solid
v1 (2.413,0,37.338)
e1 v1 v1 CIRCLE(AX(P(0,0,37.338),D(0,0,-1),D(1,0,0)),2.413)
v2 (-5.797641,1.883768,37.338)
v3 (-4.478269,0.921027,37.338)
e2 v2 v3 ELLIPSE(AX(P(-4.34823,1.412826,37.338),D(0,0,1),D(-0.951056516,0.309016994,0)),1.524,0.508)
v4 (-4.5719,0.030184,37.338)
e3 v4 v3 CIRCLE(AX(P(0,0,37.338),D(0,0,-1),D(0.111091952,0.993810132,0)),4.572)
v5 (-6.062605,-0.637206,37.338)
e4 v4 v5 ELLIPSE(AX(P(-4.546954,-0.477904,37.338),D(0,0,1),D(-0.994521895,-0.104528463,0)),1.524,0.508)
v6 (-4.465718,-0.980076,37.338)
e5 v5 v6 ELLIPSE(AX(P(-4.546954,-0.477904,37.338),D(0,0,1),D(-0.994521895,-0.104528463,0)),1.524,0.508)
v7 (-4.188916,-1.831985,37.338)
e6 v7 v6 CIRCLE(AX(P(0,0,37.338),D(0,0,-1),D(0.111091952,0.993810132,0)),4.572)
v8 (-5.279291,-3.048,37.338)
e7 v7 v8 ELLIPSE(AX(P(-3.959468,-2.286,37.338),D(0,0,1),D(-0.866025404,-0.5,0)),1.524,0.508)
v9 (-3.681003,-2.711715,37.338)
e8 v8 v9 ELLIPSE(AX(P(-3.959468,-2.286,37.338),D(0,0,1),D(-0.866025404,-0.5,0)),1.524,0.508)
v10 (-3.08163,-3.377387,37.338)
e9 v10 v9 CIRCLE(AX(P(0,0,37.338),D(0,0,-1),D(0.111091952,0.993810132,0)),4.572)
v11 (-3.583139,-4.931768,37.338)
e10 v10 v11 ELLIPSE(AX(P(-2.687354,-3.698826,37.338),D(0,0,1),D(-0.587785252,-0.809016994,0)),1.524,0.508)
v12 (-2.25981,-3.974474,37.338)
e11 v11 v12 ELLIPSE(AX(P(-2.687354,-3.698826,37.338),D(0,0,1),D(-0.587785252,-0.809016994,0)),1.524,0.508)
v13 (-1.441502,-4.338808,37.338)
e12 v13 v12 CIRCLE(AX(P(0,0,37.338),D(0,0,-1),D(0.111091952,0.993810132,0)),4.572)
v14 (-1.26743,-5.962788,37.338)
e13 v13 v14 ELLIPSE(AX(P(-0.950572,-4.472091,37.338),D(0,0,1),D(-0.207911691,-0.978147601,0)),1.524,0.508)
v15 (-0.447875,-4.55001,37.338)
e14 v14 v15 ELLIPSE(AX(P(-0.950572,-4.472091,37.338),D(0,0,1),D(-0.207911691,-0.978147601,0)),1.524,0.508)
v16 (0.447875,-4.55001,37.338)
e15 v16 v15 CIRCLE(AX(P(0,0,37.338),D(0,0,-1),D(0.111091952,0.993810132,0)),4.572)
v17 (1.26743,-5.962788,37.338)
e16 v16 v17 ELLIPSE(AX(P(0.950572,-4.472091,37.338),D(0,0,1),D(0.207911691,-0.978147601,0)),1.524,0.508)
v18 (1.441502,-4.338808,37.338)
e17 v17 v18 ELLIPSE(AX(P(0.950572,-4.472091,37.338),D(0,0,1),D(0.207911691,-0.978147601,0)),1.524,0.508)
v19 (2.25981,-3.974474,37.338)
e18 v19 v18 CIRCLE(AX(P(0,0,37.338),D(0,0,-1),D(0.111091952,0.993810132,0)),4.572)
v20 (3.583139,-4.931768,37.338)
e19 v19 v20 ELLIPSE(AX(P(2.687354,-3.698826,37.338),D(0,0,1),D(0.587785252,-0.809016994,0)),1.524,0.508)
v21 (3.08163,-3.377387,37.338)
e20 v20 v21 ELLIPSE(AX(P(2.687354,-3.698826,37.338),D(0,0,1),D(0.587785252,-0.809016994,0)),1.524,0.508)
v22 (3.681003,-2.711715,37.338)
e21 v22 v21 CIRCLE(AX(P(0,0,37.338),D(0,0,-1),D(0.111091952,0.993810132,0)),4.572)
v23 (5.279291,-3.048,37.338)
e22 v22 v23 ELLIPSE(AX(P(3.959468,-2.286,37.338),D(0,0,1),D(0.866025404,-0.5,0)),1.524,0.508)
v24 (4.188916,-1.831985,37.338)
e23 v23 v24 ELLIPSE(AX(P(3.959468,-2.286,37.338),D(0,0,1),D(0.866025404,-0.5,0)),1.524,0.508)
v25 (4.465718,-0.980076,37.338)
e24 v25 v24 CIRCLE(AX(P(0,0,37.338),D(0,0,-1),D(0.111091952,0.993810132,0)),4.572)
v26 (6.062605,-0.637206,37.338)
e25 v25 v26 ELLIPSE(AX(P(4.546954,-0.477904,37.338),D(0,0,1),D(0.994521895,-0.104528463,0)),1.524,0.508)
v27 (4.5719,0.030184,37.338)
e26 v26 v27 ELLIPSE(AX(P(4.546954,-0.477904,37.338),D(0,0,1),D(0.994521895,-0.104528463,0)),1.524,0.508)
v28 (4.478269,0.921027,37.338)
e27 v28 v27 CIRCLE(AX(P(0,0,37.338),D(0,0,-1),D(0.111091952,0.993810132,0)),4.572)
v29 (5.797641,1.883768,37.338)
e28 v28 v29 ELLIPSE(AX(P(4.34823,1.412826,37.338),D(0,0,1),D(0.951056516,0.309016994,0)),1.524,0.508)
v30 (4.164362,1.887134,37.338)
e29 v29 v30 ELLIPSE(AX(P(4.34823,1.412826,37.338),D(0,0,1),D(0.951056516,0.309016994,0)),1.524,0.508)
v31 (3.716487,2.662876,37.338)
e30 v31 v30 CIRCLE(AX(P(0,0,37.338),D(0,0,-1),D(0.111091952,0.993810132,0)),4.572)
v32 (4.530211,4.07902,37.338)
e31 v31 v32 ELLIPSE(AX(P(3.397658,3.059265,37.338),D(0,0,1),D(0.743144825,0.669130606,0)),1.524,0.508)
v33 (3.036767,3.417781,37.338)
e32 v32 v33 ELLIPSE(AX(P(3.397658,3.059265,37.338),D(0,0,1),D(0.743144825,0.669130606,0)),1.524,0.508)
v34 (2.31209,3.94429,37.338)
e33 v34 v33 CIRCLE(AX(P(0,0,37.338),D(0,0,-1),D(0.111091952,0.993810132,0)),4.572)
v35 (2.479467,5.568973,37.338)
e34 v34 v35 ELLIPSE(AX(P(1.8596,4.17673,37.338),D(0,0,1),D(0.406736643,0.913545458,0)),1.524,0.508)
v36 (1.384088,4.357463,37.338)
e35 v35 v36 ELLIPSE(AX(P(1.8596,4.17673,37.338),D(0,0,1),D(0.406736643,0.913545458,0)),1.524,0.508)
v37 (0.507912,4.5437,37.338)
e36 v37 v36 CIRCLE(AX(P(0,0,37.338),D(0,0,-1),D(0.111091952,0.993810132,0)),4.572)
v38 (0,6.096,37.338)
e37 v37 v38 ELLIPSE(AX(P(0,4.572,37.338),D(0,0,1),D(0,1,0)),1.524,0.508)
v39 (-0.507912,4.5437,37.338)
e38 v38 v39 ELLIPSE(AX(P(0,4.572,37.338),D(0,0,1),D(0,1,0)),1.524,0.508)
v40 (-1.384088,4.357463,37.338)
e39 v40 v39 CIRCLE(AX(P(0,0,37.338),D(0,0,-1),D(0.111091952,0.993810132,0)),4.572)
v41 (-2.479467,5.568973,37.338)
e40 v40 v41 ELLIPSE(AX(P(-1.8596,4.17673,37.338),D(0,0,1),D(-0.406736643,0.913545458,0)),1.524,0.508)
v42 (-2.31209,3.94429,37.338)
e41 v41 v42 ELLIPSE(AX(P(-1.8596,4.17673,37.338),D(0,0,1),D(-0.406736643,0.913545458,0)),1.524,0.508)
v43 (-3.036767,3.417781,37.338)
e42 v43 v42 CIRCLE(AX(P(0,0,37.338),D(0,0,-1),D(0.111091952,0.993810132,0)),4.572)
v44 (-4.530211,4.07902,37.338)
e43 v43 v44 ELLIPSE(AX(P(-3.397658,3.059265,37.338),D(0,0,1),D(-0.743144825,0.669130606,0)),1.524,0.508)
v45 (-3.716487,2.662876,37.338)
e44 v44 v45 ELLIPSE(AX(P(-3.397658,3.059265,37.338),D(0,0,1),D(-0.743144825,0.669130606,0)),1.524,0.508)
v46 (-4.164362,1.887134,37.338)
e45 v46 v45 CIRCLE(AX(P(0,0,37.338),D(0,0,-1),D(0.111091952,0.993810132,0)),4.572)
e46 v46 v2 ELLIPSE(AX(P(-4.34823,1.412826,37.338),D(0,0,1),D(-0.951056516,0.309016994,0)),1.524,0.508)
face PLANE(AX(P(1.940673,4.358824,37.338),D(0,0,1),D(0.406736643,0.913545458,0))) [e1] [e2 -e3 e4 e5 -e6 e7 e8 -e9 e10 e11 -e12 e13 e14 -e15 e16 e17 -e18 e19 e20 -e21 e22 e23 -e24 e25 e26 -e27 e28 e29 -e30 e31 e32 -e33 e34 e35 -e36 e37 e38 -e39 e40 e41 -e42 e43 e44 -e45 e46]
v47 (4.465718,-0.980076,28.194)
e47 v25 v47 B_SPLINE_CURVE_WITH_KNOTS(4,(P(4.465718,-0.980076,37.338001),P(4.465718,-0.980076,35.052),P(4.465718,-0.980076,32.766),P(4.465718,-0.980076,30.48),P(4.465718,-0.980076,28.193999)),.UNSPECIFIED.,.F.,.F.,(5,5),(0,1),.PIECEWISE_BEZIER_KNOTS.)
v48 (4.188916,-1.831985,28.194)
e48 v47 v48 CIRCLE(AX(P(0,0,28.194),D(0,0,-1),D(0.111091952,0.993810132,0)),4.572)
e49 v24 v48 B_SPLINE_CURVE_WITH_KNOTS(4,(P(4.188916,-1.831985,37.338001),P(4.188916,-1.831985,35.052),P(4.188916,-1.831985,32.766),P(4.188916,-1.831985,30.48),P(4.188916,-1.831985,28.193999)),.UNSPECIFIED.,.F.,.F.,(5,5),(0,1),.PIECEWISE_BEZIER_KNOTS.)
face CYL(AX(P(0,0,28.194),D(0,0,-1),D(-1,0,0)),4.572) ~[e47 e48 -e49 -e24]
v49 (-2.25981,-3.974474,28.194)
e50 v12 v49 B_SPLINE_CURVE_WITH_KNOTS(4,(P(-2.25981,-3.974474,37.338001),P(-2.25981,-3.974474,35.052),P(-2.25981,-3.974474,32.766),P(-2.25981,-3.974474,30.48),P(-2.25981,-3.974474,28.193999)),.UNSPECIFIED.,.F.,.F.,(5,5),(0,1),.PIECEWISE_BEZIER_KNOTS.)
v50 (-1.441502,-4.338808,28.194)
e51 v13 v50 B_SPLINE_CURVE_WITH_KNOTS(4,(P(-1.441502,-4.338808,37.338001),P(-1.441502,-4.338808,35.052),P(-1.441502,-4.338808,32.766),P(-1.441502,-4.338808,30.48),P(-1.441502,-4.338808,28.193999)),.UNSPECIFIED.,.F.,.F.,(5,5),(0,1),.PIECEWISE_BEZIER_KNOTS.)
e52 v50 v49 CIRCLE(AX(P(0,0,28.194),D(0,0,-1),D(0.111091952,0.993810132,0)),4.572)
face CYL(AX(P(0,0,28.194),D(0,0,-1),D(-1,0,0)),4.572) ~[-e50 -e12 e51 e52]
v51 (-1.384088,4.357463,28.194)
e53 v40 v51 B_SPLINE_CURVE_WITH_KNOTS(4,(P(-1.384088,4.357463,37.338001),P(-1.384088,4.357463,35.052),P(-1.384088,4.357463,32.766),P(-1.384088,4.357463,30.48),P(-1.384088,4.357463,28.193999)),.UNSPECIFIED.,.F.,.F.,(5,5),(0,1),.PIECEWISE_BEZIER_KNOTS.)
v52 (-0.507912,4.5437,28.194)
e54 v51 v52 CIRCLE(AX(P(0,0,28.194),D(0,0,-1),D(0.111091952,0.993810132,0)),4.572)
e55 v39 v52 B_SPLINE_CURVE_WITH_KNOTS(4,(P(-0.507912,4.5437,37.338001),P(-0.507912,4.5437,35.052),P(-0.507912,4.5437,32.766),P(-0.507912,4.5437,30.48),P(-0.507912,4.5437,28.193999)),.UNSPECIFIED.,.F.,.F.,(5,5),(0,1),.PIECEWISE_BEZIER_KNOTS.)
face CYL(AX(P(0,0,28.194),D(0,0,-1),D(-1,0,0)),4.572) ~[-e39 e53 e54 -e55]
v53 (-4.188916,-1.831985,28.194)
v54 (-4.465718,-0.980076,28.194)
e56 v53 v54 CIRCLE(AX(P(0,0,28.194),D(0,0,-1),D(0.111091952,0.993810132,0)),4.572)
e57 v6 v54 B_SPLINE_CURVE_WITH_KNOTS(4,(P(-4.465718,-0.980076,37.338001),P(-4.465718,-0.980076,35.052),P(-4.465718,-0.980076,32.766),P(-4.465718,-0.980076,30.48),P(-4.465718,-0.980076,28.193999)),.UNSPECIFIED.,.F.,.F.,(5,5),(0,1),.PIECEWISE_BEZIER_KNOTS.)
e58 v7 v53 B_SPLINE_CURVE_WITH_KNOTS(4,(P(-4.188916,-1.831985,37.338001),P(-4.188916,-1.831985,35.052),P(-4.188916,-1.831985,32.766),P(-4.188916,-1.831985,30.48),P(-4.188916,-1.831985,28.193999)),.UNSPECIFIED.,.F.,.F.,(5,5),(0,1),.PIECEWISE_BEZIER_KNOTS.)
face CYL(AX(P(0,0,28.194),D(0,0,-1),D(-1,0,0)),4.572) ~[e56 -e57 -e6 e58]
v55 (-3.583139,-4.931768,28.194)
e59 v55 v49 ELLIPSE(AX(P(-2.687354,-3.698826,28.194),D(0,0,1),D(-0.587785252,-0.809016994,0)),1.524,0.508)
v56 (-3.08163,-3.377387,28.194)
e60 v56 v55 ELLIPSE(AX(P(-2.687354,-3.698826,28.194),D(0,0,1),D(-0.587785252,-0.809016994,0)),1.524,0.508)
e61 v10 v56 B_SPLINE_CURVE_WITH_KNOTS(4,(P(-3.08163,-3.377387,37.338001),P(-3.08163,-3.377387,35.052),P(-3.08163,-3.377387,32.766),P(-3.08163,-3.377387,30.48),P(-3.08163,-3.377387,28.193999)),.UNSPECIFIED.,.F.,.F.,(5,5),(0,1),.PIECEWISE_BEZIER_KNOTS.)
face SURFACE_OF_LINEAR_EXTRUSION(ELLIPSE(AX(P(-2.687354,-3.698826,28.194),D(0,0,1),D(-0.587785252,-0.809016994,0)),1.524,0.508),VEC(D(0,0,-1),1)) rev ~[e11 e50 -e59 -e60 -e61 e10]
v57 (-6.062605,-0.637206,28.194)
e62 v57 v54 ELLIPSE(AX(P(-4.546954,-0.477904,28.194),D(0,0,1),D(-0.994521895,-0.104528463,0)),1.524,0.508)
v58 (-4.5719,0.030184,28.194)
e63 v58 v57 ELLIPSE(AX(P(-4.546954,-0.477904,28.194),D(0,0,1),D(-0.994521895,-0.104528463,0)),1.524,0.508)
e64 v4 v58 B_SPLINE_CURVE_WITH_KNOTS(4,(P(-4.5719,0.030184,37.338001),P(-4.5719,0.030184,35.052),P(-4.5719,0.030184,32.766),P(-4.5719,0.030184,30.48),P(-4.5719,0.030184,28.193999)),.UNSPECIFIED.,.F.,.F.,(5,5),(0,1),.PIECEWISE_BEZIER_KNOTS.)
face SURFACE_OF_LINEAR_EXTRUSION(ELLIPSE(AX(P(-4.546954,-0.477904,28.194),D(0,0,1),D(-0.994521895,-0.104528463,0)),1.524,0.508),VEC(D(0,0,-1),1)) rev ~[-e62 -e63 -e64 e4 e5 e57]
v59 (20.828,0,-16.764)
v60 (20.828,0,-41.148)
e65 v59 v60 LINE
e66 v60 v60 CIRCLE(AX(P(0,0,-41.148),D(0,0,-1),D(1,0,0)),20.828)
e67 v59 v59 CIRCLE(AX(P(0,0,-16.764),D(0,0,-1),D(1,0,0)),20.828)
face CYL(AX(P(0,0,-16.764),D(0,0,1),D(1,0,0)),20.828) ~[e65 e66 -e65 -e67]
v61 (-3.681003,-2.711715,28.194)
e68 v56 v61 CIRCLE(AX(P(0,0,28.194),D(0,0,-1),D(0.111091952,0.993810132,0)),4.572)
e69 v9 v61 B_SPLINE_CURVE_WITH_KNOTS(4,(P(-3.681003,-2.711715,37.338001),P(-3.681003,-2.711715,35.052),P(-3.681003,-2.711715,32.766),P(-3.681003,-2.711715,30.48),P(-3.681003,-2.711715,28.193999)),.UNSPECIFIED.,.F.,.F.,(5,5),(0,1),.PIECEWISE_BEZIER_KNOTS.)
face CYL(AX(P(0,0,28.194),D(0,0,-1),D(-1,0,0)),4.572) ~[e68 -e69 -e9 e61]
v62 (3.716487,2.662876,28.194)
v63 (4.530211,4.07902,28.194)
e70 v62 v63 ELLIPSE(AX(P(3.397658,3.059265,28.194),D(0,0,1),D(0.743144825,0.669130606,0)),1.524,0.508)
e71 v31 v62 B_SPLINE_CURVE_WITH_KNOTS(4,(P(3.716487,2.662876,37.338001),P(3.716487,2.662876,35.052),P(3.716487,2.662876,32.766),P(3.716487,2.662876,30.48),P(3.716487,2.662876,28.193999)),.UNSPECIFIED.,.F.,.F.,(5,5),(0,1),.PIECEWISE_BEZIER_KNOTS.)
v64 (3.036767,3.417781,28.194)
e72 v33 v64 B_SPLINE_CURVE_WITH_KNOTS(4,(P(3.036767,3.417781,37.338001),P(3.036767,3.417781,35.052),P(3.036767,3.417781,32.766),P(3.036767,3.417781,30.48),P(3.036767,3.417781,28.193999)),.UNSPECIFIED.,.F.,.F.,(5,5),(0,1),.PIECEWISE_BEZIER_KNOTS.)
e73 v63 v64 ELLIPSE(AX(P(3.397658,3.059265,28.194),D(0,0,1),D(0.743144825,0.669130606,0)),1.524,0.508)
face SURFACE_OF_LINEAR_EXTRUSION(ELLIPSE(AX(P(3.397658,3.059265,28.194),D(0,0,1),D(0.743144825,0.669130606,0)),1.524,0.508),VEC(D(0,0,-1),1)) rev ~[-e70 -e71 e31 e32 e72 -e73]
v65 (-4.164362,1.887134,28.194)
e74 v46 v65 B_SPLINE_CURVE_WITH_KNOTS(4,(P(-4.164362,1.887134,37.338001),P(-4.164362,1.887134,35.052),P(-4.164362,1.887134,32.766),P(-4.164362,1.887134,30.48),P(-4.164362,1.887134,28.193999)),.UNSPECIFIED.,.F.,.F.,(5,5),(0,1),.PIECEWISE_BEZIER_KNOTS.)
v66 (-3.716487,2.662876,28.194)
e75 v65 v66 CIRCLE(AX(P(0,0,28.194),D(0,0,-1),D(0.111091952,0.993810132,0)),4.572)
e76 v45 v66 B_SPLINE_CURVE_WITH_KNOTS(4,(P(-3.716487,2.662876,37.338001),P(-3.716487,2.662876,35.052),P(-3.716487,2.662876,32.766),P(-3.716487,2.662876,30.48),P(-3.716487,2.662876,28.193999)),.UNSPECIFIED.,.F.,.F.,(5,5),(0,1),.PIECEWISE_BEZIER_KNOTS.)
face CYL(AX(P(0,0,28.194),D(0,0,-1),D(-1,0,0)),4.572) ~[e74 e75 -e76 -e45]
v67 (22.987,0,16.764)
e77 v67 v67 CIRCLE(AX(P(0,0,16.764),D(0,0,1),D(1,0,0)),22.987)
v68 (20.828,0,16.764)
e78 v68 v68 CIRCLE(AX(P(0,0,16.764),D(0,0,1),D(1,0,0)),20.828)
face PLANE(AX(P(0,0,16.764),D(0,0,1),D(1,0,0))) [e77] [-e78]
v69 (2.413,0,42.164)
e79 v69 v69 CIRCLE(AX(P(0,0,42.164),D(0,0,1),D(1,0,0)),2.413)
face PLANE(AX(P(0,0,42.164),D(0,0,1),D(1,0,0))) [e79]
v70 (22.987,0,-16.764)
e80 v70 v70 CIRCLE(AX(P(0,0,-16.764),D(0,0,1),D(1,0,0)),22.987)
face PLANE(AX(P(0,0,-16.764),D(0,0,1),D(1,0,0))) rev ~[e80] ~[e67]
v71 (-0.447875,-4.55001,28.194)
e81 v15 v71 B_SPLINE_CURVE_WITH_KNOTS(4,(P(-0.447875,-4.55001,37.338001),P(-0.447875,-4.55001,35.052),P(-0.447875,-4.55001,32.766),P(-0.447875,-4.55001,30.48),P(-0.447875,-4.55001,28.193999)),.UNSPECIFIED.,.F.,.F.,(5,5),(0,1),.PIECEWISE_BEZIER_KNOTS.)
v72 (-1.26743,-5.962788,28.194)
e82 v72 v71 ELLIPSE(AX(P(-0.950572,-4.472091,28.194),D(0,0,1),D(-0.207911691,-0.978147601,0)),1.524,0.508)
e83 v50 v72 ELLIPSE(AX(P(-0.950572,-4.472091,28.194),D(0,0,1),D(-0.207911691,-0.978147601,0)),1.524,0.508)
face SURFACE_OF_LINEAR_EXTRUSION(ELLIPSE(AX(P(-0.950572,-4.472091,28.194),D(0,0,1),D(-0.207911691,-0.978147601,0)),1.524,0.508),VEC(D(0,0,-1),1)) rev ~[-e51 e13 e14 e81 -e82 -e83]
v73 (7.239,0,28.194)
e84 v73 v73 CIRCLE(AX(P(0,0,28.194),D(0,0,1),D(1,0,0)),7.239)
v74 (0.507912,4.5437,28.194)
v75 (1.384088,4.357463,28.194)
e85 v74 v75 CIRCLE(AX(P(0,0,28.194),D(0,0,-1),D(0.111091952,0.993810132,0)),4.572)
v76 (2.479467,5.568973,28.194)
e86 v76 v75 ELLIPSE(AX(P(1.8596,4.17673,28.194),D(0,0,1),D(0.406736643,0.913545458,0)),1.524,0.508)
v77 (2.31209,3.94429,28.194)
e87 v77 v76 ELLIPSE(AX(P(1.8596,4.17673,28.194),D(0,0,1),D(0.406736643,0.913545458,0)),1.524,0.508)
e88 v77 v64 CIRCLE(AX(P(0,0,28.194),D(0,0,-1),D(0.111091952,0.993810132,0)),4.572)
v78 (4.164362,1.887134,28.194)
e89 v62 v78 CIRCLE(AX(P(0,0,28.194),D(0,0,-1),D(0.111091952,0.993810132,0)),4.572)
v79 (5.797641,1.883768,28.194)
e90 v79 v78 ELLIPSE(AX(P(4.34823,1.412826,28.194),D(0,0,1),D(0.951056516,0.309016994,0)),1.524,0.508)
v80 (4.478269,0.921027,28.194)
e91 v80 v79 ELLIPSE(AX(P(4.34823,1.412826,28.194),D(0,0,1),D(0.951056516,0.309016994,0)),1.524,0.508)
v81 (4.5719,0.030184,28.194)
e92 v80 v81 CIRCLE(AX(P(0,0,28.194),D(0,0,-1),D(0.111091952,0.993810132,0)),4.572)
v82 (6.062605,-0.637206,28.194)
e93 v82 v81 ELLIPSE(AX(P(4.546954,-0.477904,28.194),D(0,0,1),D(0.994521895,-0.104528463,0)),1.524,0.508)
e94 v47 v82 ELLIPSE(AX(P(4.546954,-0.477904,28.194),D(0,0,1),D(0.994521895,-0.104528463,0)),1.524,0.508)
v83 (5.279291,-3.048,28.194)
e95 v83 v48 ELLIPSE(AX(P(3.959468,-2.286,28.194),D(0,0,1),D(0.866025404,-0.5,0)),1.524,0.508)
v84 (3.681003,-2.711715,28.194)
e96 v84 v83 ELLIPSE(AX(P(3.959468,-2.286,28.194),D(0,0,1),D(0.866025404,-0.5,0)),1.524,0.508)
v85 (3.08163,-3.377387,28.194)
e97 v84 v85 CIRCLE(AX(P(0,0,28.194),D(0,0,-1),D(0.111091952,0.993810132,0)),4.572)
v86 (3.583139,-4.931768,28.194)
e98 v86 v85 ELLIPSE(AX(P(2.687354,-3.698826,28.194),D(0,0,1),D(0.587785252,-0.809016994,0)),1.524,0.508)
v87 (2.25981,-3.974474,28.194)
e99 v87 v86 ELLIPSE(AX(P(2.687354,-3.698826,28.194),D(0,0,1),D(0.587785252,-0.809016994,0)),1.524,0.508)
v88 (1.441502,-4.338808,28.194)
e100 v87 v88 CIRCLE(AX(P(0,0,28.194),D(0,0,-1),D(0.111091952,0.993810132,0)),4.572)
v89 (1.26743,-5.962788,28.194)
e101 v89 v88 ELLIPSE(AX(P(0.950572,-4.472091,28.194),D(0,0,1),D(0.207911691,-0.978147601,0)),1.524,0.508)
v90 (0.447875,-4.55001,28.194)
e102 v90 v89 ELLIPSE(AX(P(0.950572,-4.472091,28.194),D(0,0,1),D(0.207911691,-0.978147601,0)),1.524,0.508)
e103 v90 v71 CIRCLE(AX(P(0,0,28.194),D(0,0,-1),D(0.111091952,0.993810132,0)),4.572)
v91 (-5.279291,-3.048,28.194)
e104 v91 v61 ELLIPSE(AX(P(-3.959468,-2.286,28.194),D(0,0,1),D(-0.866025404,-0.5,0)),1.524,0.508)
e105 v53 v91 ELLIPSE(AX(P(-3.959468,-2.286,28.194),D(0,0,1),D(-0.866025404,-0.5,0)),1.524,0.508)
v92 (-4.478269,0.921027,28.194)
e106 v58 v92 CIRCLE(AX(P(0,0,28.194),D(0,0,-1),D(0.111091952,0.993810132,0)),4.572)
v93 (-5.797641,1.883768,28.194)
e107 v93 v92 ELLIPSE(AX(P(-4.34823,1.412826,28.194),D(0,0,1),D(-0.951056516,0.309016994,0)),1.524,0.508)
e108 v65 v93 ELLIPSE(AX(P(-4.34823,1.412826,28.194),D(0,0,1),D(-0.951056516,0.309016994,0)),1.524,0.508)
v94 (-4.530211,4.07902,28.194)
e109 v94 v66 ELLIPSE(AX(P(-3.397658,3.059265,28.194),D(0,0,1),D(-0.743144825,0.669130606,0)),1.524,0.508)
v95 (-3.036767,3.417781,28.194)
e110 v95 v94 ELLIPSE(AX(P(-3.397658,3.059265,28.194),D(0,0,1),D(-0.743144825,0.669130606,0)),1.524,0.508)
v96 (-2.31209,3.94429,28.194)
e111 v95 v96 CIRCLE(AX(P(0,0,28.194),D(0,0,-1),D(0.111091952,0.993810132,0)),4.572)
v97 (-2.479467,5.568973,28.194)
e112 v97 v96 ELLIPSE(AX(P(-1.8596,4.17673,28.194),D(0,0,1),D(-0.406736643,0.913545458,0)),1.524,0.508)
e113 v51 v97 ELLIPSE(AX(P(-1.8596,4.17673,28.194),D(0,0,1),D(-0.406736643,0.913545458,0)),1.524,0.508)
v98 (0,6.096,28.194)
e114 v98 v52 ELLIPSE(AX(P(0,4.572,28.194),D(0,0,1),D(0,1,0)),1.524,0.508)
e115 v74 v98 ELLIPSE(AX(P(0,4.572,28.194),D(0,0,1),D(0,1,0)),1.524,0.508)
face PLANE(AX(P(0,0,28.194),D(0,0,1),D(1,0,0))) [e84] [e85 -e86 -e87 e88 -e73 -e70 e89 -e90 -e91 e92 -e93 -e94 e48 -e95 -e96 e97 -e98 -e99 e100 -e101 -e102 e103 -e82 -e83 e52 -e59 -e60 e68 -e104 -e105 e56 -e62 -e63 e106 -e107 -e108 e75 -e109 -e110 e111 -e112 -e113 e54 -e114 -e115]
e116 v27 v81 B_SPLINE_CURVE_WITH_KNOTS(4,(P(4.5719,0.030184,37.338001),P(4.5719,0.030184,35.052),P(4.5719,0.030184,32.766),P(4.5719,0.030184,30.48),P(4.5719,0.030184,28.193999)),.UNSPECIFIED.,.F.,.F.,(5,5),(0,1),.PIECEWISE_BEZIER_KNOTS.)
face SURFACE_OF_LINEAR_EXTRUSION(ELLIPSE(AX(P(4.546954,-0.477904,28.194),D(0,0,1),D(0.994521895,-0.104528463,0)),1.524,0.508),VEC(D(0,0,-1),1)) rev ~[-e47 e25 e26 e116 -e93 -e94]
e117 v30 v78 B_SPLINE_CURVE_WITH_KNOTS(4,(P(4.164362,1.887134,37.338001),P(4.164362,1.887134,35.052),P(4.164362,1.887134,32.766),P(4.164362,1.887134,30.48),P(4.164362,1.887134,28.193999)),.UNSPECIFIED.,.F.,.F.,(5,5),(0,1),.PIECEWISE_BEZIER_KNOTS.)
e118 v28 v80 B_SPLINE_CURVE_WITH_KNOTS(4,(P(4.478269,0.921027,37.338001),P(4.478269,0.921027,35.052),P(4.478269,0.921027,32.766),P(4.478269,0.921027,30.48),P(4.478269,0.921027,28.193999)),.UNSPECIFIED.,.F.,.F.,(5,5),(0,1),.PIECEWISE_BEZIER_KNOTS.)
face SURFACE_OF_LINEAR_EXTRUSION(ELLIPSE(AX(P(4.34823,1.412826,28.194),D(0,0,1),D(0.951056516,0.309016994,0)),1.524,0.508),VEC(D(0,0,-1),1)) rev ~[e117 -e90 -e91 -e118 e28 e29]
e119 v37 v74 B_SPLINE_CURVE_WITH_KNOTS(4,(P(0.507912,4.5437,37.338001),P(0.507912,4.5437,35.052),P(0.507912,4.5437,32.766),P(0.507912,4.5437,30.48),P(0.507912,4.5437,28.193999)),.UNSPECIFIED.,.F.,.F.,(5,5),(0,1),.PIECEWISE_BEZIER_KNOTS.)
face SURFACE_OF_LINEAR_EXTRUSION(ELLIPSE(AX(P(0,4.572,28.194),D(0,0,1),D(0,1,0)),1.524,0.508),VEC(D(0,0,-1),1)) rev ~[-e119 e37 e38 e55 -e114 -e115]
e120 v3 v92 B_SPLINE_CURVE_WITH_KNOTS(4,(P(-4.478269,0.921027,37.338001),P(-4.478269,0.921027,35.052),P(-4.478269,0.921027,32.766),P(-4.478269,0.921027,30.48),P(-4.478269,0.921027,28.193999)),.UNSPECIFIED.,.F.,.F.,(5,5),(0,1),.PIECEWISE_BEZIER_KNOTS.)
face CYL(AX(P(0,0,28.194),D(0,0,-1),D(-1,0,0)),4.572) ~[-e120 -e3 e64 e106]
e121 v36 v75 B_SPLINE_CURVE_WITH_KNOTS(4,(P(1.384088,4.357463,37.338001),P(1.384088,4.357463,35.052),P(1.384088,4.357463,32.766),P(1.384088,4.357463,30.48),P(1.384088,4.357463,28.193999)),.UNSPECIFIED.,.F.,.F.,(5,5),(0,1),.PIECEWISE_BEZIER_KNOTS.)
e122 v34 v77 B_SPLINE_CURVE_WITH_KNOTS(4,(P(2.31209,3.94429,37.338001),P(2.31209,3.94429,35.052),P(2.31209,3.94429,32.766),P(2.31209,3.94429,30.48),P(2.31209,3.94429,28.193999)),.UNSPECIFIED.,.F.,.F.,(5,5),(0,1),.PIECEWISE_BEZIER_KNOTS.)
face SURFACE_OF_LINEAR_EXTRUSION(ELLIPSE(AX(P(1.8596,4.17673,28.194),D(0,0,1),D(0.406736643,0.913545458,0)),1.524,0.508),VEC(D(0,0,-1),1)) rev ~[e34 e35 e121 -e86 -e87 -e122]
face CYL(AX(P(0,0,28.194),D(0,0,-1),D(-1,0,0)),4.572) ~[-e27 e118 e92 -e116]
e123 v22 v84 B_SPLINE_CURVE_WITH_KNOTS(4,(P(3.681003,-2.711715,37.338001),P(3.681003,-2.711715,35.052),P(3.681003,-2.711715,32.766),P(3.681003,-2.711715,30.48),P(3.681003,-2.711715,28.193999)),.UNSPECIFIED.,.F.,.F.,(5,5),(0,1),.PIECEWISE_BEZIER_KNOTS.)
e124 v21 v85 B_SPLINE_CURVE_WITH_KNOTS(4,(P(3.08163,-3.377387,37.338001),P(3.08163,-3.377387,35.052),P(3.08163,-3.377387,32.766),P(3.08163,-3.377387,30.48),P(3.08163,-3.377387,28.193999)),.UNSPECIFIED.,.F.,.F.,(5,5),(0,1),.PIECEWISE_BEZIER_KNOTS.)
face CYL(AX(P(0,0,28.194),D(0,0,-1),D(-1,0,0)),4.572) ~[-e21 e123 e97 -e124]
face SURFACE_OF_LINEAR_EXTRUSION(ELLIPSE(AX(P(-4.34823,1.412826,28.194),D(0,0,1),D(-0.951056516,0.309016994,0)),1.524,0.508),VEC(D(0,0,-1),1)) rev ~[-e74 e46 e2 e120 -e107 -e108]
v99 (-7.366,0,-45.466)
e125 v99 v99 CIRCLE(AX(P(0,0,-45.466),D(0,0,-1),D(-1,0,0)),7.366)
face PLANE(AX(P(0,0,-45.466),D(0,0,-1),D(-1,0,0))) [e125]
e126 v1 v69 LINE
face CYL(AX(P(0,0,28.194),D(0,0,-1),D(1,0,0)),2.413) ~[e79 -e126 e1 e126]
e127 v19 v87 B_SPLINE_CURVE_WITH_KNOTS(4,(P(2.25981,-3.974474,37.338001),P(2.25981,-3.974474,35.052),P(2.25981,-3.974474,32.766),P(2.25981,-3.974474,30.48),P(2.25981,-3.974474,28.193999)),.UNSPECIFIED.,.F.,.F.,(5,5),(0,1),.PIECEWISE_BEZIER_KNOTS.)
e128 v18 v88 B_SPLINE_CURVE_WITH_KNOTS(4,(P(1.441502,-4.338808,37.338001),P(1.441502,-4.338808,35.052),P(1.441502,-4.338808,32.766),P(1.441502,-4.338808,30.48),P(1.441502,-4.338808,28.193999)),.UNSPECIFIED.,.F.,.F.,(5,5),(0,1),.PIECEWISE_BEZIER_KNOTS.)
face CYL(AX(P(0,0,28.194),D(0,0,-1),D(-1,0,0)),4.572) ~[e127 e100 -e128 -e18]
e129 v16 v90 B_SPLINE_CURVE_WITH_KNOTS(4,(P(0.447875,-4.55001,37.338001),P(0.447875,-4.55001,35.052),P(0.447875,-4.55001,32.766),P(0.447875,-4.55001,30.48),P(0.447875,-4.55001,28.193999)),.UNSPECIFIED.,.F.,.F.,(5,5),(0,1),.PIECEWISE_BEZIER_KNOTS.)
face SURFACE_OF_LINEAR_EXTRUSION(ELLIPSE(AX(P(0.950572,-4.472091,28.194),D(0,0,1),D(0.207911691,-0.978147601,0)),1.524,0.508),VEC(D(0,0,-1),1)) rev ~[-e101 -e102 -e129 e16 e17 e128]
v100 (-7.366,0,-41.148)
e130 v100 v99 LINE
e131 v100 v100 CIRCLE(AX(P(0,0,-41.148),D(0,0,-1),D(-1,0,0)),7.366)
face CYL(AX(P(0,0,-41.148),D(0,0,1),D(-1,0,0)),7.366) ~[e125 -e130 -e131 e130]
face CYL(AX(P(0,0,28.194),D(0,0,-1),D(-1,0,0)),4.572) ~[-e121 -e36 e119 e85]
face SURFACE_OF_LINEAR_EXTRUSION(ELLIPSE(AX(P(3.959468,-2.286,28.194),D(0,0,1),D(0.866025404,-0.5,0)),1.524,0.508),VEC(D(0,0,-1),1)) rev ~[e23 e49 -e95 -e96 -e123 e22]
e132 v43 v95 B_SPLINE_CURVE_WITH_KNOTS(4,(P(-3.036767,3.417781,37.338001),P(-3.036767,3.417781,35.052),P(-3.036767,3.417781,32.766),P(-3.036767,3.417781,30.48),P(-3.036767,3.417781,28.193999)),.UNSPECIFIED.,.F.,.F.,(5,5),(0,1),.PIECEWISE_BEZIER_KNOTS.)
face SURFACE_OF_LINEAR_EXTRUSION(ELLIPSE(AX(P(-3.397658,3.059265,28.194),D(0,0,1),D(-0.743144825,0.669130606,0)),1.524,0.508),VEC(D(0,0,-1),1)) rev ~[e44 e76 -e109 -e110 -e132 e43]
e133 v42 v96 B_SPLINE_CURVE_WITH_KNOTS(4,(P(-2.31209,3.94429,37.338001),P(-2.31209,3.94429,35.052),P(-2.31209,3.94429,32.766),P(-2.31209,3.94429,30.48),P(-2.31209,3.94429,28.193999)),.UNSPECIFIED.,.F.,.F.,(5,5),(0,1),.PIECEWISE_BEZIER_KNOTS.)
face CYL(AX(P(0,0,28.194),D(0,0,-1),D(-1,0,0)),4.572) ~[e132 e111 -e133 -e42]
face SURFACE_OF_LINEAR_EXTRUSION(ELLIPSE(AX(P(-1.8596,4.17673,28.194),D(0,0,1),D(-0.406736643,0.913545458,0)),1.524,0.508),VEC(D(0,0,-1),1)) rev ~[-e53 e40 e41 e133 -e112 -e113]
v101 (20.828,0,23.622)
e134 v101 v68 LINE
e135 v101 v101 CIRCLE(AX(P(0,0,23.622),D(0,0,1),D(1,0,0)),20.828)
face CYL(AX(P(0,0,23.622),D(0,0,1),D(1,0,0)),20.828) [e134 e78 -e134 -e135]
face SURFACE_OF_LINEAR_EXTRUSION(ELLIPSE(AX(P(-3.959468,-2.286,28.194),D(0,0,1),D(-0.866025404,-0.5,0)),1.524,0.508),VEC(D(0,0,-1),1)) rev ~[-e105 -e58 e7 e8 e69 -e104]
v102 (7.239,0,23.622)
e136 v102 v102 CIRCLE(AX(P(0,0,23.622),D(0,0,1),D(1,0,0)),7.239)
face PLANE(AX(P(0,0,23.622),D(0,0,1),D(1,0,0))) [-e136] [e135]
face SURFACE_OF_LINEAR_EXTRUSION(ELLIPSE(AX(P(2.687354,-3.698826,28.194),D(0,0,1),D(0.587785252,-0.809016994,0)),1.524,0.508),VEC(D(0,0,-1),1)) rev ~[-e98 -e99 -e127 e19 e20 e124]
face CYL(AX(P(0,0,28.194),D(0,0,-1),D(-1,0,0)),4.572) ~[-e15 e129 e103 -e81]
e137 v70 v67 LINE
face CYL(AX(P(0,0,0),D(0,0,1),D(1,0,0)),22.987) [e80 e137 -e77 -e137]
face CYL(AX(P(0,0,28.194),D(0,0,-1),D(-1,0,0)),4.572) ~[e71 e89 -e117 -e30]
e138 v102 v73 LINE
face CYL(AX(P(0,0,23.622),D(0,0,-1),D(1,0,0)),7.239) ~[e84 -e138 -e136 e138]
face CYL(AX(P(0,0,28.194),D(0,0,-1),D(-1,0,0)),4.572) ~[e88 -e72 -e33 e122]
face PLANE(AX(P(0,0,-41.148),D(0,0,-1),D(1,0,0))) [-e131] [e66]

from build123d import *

# Parameters (mm, degrees)
SKETCH1_R           = 22.987
BOSS_EXTRUDE1_DEPTH = 16.764
SKETCH2_R           = 20.828
BOSS_EXTRUDE2_DEPTH = 24.384
SKETCH3_R           = 7.366
BOSS_EXTRUDE3_DEPTH = 4.318
BOSS_EXTRUDE4_START = 6.858
SKETCH4_R           = 20.828
BOSS_EXTRUDE4_DEPTH = 6.858
SKETCH5_R           = 7.239
BOSS_EXTRUDE5_DEPTH = 4.572
SKETCH6_R           = 2.413
BOSS_EXTRUDE6_DEPTH = 13.97
SKETCH7_R           = 4.572
BOSS_EXTRUDE7_DEPTH = 9.144
SKETCH8_RX          = 1.524
SKETCH8_RY          = 0.508
BOSS_EXTRUDE8_DEPTH = 9.144
CIRPATTERN1_COUNT   = 15


with BuildPart() as part:
    # Sketch1 → Boss-Extrude1 (new, symmetric)
    with BuildSketch(Plane.XY):
        Circle(SKETCH1_R)
    extrude(amount=BOSS_EXTRUDE1_DEPTH, both=True)

    # Sketch2 → Boss-Extrude2 (add)
    with BuildSketch(Plane(origin=(0, 0, -16.764), x_dir=(-1, 0, 0), z_dir=(0, 0, -1))):
        with Locations(Location((0, 0, 0), (0, 0, 180))):
            Circle(SKETCH2_R)
    extrude(amount=BOSS_EXTRUDE2_DEPTH)

    # Sketch3 → Boss-Extrude3 (add)
    with BuildSketch(Plane(origin=(0, 0, -41.148), x_dir=(-1, 0, 0), z_dir=(0, 0, -1))):
        Circle(SKETCH3_R)
    extrude(amount=BOSS_EXTRUDE3_DEPTH)

    # Sketch4 → Boss-Extrude4 (add)
    with BuildSketch(Plane.XY.offset(16.764).offset(BOSS_EXTRUDE4_START)):
        Circle(SKETCH4_R)
    extrude(amount=-BOSS_EXTRUDE4_DEPTH)

    # Sketch5 → Boss-Extrude5 (add)
    with BuildSketch(Plane.XY.offset(23.622)):
        Circle(SKETCH5_R)
    extrude(amount=BOSS_EXTRUDE5_DEPTH)

    # Sketch6 → Boss-Extrude6 (add)
    with BuildSketch(Plane.XY.offset(28.194)):
        Circle(SKETCH6_R)
    extrude(amount=BOSS_EXTRUDE6_DEPTH)

    # Sketch7 → Boss-Extrude7 (add)
    with BuildSketch(Plane.XY.offset(28.194)):
        with Locations(Location((0, 0, 0), (0, 0, 180))):
            Circle(SKETCH7_R)
    extrude(amount=BOSS_EXTRUDE7_DEPTH)

    # Sketch8 → Boss-Extrude8 (add)
    with BuildSketch(Plane.XY.offset(28.194)):
        with Locations(Location((0, 4.572), (0, 0, 90))):
            Ellipse(SKETCH8_RX, SKETCH8_RY)
    boss_extrude8 = extrude(amount=BOSS_EXTRUDE8_DEPTH)

    # CirPattern1: Boss-Extrude8 ×15 about axis
    cirpattern1_axis = Axis((0, 0, -49.8475), (0, 0, 1))
    for i in range(1, CIRPATTERN1_COUNT):
        add(boss_extrude8.rotate(cirpattern1_axis, i * 360 / CIRPATTERN1_COUNT))


solid = part.part
